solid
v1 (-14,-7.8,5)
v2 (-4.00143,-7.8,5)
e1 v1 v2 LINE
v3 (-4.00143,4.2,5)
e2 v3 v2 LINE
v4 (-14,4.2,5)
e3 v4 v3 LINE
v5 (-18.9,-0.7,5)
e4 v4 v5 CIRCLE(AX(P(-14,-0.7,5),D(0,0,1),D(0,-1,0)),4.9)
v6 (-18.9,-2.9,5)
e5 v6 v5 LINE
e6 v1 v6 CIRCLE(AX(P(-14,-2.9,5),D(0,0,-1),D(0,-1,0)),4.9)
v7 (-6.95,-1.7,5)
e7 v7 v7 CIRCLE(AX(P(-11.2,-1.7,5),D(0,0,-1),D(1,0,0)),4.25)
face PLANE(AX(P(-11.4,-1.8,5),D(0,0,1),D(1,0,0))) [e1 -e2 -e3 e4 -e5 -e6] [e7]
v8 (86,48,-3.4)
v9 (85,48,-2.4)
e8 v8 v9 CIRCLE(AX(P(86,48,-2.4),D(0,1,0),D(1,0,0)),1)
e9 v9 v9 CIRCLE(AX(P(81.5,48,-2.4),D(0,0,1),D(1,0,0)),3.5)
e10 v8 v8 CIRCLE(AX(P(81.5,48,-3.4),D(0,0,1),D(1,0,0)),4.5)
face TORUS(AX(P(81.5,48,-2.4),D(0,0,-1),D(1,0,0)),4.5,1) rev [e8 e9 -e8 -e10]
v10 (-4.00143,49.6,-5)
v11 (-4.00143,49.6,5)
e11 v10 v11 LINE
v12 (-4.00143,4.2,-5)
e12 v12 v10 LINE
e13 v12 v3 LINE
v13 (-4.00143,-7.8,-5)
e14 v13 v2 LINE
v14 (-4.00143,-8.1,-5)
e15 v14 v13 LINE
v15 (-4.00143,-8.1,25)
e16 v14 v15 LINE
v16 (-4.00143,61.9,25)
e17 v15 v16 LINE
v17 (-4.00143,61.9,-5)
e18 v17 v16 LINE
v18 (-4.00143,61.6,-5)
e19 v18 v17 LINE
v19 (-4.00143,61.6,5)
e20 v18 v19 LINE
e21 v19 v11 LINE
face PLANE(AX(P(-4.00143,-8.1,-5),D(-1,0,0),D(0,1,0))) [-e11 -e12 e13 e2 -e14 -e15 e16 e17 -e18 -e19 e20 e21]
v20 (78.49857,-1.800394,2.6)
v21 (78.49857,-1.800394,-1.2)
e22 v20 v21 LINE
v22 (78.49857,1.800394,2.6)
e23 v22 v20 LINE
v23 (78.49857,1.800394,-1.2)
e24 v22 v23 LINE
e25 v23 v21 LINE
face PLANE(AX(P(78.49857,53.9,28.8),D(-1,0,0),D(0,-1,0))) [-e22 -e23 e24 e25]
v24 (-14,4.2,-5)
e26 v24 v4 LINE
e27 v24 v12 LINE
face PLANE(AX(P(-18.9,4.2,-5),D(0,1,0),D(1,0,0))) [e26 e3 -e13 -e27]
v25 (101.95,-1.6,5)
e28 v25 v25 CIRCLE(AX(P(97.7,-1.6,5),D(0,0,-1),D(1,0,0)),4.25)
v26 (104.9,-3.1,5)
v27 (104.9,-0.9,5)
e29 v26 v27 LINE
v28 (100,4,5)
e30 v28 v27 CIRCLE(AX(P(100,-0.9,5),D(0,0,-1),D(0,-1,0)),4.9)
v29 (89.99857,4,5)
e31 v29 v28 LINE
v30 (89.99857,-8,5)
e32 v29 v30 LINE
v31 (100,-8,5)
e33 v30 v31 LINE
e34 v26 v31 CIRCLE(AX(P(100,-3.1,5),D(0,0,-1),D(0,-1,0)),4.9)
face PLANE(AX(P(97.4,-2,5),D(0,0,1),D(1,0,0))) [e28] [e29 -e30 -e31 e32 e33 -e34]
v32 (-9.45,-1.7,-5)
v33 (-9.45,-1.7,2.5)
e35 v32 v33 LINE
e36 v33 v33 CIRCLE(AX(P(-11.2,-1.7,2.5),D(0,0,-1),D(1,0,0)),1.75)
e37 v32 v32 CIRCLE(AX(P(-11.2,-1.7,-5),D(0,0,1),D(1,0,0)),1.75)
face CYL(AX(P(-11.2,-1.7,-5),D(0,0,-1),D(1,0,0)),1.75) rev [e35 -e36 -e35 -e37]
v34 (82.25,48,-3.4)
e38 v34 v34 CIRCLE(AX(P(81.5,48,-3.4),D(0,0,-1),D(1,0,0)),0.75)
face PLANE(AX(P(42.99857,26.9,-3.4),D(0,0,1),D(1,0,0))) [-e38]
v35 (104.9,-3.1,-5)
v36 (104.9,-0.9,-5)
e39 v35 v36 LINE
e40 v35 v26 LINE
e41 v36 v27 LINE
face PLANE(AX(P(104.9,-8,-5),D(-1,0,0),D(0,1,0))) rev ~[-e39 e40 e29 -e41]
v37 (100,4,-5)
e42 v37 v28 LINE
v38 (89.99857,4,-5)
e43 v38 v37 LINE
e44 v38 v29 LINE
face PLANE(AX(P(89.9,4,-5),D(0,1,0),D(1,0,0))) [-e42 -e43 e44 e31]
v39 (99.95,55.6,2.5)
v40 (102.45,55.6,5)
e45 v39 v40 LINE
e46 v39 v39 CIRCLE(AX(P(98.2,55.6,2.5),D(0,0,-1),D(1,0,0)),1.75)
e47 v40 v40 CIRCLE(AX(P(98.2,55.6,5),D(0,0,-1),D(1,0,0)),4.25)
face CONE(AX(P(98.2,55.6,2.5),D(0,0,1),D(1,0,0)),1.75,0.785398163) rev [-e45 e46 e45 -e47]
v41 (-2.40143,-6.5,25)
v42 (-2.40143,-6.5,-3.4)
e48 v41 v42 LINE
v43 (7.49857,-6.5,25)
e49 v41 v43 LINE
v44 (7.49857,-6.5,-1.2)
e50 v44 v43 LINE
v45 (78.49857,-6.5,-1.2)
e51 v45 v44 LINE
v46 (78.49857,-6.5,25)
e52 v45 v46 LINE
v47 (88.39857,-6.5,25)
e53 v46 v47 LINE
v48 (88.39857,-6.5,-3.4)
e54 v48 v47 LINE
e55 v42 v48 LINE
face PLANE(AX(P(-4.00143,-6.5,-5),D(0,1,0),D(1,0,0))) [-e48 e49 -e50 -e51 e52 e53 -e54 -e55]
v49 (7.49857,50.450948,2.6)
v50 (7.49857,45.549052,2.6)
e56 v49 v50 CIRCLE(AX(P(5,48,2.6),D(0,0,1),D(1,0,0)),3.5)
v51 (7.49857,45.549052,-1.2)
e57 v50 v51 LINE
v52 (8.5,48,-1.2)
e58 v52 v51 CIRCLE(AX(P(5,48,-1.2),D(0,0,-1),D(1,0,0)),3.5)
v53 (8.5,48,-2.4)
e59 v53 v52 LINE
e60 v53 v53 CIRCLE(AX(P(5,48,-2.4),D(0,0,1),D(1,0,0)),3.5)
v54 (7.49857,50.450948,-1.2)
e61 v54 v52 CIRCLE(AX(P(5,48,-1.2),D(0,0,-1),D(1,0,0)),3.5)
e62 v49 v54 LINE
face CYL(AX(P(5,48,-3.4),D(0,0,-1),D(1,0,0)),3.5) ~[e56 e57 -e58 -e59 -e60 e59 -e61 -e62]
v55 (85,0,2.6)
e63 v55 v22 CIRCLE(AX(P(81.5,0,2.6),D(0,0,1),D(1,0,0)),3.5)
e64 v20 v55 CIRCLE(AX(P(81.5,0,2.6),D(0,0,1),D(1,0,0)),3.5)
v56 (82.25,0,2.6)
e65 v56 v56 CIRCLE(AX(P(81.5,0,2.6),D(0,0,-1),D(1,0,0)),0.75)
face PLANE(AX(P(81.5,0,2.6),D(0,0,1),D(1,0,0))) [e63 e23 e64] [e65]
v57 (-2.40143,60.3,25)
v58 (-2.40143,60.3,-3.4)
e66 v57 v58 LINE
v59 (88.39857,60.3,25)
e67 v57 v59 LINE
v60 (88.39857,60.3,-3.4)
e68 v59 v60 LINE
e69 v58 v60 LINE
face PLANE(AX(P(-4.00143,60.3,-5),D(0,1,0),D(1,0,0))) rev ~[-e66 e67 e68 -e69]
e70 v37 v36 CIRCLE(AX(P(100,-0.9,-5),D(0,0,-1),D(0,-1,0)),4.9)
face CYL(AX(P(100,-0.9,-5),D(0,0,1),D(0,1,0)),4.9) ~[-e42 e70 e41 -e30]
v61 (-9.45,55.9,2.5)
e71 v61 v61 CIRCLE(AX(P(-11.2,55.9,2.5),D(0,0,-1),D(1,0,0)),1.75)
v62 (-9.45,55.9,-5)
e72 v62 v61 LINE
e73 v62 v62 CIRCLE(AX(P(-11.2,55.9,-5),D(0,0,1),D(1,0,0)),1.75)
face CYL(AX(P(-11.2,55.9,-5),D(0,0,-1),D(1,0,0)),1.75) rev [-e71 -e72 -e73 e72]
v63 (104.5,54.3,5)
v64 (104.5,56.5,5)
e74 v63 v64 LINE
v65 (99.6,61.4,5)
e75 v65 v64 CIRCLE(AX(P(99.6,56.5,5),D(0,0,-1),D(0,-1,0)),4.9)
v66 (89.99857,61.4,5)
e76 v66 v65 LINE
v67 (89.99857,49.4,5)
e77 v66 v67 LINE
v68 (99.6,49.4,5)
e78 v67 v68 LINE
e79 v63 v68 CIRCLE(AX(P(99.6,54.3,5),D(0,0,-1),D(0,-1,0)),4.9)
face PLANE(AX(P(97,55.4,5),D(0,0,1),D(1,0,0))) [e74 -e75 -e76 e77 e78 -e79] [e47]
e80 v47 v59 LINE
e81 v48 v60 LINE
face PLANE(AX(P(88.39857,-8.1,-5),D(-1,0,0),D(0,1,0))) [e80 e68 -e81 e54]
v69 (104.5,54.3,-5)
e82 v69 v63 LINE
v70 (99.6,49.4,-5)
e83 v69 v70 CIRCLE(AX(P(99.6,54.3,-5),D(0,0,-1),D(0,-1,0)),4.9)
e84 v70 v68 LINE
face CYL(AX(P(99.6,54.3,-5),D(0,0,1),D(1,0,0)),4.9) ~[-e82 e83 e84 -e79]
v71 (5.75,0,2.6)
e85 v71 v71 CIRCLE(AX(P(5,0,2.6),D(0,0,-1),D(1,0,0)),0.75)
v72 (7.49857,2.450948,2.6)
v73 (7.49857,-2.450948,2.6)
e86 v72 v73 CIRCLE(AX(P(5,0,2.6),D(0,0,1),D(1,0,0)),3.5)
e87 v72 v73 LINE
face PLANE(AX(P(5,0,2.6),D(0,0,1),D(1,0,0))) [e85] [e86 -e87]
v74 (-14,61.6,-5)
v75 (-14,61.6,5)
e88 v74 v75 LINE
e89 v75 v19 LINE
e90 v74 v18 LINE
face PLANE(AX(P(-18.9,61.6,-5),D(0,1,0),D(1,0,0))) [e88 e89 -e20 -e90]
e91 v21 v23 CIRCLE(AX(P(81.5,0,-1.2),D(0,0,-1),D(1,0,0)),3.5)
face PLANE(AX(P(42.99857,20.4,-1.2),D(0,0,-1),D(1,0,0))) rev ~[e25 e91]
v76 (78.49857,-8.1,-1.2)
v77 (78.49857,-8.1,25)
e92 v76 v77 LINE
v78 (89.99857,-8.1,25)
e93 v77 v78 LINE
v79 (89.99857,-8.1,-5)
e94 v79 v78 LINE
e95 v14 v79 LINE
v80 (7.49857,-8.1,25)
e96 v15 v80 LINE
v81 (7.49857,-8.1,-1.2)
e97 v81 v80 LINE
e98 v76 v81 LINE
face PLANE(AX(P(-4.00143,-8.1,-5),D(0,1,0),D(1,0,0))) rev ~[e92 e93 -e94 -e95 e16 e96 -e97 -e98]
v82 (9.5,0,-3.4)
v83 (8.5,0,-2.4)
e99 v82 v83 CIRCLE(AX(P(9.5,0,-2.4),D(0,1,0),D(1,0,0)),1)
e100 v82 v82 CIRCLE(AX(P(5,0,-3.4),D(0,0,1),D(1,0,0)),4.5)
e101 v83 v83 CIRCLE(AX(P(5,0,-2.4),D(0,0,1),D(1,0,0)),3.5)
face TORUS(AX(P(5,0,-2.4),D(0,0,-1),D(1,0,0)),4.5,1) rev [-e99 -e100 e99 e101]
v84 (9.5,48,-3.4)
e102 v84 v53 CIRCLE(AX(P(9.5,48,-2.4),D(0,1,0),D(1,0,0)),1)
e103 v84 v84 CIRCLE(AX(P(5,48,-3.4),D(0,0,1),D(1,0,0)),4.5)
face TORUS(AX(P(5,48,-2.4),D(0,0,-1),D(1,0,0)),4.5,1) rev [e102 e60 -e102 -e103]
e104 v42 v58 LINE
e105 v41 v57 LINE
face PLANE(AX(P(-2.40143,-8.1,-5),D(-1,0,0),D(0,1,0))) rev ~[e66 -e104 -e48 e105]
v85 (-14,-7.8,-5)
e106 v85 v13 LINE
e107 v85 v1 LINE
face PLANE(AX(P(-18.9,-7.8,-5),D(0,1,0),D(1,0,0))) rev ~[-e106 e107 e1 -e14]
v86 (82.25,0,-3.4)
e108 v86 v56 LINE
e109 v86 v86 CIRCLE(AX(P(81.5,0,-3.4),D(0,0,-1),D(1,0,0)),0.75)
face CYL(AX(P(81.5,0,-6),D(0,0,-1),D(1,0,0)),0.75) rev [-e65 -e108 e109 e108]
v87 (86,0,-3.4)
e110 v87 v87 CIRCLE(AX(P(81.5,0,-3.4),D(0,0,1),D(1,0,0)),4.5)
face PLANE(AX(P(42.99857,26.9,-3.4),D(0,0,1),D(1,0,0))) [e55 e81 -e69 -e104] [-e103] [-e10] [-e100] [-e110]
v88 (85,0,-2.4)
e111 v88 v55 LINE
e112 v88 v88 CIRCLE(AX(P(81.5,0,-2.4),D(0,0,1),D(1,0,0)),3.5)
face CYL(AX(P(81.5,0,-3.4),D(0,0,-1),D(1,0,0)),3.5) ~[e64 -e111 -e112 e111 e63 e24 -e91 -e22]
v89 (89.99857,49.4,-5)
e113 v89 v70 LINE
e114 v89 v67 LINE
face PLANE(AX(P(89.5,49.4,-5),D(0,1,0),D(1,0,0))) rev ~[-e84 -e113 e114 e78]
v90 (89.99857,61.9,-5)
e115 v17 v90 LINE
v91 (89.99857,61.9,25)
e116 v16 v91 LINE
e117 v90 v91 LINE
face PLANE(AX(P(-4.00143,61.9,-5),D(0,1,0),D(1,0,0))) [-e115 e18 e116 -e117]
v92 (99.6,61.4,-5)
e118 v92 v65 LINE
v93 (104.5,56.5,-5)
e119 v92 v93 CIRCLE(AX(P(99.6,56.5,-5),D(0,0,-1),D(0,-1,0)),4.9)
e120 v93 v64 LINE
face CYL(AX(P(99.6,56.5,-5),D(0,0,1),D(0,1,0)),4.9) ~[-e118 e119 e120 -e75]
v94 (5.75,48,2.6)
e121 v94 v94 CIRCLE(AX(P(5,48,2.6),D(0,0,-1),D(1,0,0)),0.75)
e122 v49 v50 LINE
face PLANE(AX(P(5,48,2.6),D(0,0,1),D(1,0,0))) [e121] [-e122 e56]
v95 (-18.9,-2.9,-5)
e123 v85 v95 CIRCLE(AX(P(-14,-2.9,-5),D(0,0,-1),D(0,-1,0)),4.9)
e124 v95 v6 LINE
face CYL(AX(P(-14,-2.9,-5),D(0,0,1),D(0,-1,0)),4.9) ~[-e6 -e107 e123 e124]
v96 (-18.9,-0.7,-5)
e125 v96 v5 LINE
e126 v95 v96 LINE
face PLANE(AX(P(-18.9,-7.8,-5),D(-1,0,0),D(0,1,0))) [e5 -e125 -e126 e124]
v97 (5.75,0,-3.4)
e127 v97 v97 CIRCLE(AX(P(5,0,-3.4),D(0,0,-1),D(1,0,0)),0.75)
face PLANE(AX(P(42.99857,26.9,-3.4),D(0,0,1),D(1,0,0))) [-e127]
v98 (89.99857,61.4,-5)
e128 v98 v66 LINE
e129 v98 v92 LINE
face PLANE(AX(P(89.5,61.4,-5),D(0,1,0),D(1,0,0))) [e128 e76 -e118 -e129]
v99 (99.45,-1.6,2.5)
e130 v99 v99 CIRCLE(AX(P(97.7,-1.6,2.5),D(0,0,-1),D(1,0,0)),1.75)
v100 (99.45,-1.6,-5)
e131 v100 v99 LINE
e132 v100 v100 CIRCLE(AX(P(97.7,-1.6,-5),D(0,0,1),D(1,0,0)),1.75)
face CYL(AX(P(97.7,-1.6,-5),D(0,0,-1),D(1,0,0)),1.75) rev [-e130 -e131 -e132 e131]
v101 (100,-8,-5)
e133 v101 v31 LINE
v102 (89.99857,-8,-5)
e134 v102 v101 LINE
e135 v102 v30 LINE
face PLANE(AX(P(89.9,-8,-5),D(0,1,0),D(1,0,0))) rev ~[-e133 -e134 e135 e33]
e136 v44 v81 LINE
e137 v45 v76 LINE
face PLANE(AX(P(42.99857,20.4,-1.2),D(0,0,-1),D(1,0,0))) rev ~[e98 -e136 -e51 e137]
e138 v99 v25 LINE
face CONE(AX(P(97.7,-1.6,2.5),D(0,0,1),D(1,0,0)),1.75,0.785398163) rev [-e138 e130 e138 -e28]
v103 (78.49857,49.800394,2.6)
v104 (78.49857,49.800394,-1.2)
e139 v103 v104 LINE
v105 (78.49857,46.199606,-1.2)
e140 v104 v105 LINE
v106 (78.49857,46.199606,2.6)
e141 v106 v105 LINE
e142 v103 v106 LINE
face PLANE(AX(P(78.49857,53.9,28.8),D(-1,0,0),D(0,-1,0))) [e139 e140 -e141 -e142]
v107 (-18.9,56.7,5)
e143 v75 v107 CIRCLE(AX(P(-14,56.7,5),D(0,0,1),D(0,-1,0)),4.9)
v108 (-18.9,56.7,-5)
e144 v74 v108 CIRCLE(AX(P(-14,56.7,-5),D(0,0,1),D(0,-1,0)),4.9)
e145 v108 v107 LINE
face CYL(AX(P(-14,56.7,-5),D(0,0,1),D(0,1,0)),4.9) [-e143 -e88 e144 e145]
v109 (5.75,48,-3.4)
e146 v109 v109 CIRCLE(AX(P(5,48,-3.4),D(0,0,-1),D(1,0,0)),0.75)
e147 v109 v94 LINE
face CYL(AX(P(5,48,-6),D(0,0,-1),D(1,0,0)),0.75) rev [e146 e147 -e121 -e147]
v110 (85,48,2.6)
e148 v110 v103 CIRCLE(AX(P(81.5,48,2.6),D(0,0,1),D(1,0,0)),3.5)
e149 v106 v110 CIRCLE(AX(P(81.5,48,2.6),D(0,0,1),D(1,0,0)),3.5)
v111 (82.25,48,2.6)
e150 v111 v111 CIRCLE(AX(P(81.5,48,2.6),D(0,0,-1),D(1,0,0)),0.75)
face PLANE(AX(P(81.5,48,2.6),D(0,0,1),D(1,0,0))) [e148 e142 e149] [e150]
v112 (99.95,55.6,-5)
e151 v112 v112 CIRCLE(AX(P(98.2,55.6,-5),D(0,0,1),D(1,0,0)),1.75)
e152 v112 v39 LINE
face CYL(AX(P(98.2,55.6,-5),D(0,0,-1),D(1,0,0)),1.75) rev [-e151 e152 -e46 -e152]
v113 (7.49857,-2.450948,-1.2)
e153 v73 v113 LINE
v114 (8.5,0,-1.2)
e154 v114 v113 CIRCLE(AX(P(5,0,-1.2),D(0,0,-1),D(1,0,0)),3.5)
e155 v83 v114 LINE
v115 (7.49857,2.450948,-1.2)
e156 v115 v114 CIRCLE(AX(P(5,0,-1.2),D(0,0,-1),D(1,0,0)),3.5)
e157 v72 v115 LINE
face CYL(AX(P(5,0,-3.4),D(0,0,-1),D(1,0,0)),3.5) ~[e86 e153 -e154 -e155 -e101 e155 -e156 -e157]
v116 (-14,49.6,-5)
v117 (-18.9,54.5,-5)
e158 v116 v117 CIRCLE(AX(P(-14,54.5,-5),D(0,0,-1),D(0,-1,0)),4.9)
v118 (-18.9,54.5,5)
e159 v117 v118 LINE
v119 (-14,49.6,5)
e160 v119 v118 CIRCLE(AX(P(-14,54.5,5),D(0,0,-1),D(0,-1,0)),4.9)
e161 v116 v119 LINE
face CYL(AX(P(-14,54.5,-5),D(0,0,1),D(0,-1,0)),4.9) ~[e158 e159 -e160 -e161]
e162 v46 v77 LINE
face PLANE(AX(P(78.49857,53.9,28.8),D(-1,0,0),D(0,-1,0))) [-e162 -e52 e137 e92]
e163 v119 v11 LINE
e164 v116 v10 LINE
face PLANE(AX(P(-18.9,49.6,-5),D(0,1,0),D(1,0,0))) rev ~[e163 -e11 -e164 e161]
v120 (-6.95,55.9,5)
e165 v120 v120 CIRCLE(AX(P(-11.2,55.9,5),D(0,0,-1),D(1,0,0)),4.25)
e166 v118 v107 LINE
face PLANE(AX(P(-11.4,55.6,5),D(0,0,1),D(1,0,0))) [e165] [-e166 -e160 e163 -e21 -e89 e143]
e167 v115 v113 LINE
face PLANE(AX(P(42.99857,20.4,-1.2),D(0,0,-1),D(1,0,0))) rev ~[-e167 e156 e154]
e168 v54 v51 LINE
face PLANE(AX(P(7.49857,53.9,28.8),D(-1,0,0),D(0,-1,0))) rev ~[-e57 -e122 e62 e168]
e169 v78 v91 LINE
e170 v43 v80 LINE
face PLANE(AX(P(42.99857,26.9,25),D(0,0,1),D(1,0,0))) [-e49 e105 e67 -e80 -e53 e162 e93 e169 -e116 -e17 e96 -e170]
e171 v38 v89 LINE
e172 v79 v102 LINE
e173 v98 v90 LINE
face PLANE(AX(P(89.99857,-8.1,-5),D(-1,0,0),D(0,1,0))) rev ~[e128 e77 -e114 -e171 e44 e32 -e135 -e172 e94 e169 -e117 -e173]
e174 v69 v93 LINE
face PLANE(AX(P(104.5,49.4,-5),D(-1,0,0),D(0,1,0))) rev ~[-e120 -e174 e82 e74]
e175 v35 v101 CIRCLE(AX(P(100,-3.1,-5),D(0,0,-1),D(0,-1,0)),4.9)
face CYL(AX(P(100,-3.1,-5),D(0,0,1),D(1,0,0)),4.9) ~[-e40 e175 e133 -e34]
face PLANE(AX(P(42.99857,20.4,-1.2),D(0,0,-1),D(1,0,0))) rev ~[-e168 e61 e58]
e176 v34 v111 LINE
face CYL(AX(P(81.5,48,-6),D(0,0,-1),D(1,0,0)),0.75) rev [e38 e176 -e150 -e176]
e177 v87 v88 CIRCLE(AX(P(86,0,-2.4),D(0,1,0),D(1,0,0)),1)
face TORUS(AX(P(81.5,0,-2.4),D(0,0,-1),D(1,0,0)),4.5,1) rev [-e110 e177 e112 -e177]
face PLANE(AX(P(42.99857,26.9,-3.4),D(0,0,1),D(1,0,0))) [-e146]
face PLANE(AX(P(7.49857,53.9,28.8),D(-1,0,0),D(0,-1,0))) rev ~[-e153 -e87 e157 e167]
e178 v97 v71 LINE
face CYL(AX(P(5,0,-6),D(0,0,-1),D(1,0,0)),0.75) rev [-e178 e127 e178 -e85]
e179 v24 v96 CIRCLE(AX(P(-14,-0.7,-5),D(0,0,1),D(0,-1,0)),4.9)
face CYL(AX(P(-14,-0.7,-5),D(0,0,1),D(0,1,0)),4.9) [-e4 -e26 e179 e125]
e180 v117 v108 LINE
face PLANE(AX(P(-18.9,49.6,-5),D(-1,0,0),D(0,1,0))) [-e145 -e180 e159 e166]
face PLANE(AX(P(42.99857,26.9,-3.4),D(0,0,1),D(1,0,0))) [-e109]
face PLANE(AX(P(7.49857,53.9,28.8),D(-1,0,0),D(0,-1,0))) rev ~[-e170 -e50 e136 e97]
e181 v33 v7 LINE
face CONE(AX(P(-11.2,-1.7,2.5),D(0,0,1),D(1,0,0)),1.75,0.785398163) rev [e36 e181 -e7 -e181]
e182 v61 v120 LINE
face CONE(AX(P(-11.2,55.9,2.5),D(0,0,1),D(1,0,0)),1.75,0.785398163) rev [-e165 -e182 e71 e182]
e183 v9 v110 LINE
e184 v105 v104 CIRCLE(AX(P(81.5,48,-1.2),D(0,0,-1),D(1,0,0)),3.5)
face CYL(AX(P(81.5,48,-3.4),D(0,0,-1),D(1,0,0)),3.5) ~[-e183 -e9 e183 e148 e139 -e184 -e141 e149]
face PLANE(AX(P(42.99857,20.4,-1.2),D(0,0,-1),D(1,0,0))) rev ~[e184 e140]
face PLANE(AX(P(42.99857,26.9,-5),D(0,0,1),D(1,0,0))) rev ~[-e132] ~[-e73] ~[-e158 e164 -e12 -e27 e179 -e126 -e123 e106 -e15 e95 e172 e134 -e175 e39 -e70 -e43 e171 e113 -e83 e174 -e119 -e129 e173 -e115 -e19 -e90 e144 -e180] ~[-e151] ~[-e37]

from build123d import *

# Parameters (mm, degrees)
BOX001_W          = 71
BOX001_H          = 67
BOX001_DEPTH      = 30
CYLINDER001_R     = 1.5
CYLINDER001_DEPTH = 10
CYLINDER002_R     = 1.5
CYLINDER002_DEPTH = 10
CYLINDER003_R     = 1.5
CYLINDER003_DEPTH = 10
CYLINDER_R        = 1.5
CYLINDER_DEPTH    = 10
BOX_W             = 86
BOX_H             = 58
BOX_DEPTH         = 1.5
BOX002_W          = 94
BOX002_H          = 70
BOX002_DEPTH      = 30
THICKNESS_T       = -1.6
CYLINDER005_R     = 0.75
CYLINDER005_DEPTH = 10
CYLINDER004_R     = 3.5
CYLINDER004_DEPTH = 6
CYLINDER007_R     = 0.75
CYLINDER007_DEPTH = 10
CYLINDER006_R     = 3.5
CYLINDER006_DEPTH = 6
CYLINDER009_R     = 0.75
CYLINDER009_DEPTH = 10
CYLINDER008_R     = 3.5
CYLINDER008_DEPTH = 6
CYLINDER010_R     = 0.75
CYLINDER010_DEPTH = 10
CYLINDER011_R     = 3.5
CYLINDER011_DEPTH = 6
FILLET_R          = 1
FILLET001_R       = 1
CYLINDER014_R     = 1.75
CYLINDER014_DEPTH = 20
CYLINDER013_R     = 1.75
CYLINDER013_DEPTH = 20
CYLINDER015_R     = 1.75
CYLINDER015_DEPTH = 20
CYLINDER012_R     = 1.75
CYLINDER012_DEPTH = 20
BOX004_W          = 15
BOX004_H          = 12
BOX004_DEPTH      = 10
BOX005_W          = 15
BOX005_H          = 12
BOX005_DEPTH      = 10
BOX006_W          = 15
BOX006_H          = 12
BOX006_DEPTH      = 10
BOX003_W          = 15
BOX003_H          = 12
BOX003_DEPTH      = 10
FILLET002_R       = 4.9
FILLET003_R       = 4.9
CHAMFER_SIZE      = 2.5


with BuildPart() as w_rfel001:
    # Box001 → Box001 (new body)
    with BuildSketch(Plane(origin=(7.49857, 58.9, 26), x_dir=(1, 0, 0), z_dir=(0, 0, -1))):
        with Locations((35.5, 33.5)):
            Rectangle(BOX001_W, BOX001_H)
    extrude(amount=BOX001_DEPTH)


with BuildPart() as zylinder001:
    # Cylinder001 → Cylinder001 (new body)
    with BuildSketch(Plane(origin=(5, 53, 0), x_dir=(1, 0, 0), z_dir=(0, 0, 1))):
        Circle(CYLINDER001_R)
    extrude(amount=CYLINDER001_DEPTH)


with BuildPart() as zylinder002:
    # Cylinder002 → Cylinder002 (new body)
    with BuildSketch(Plane(origin=(81.5, 5, 0), x_dir=(1, 0, 0), z_dir=(0, 0, 1))):
        Circle(CYLINDER002_R)
    extrude(amount=CYLINDER002_DEPTH)


with BuildPart() as zylinder003:
    # Cylinder003 → Cylinder003 (new body)
    with BuildSketch(Plane(origin=(81.5, 53, 0), x_dir=(1, 0, 0), z_dir=(0, 0, 1))):
        Circle(CYLINDER003_R)
    extrude(amount=CYLINDER003_DEPTH)


with BuildPart() as fusion:
    # Cylinder → Cylinder (new body)
    with BuildSketch(Plane(origin=(5, 5, 0), x_dir=(1, 0, 0), z_dir=(0, 0, 1))):
        Circle(CYLINDER_R)
    extrude(amount=CYLINDER_DEPTH)

    # Fusion: union Zylinder001, Zylinder002, Zylinder003
    add(zylinder001.part)
    add(zylinder002.part)
    add(zylinder003.part)


with BuildPart() as fusion001:
    # Box → Box (new body)
    with BuildSketch(Plane.XY):
        with Locations((43, 29)):
            Rectangle(BOX_W, BOX_H)
    extrude(amount=BOX_DEPTH)

    # Cut: cut Fusion
    add(fusion.part, mode=Mode.SUBTRACT)

    # Fusion001: union Würfel001
    add(w_rfel001.part)


with BuildPart() as fusion001_1:
    # Fusion001 placement: moved
    add(fusion001.part.moved(Location((0, -5, 2.8))))


with BuildPart() as thickness:
    # Box002 → Box002 (new body)
    with BuildSketch(Plane(origin=(-4.00143, -8.1, -5), x_dir=(1, 0, 0), z_dir=(0, 0, 1))):
        with Locations((47, 35)):
            Rectangle(BOX002_W, BOX002_H)
    extrude(amount=BOX002_DEPTH)

    # Thickness
    thickness_openings = [thickness.faces().sort_by_distance(p)[0] for p in [
        (42.99857, 26.9, 25),
    ]]
    offset(amount=THICKNESS_T, openings=thickness_openings)


with BuildPart() as zylinder005:
    # Cylinder005 → Cylinder005 (new body)
    with BuildSketch(Plane(origin=(5, 0, -6), x_dir=(1, 0, 0), z_dir=(0, 0, 1))):
        Circle(CYLINDER005_R)
    extrude(amount=CYLINDER005_DEPTH)


with BuildPart() as cut001:
    # Cylinder004 → Cylinder004 (new body)
    with BuildSketch(Plane(origin=(5, 0, -3.4), x_dir=(1, 0, 0), z_dir=(0, 0, 1))):
        Circle(CYLINDER004_R)
    extrude(amount=CYLINDER004_DEPTH)

    # Cut001: cut Zylinder005
    add(zylinder005.part, mode=Mode.SUBTRACT)


with BuildPart() as zylinder007:
    # Cylinder007 → Cylinder007 (new body)
    with BuildSketch(Plane(origin=(5, 0, -6), x_dir=(1, 0, 0), z_dir=(0, 0, 1))):
        Circle(CYLINDER007_R)
    extrude(amount=CYLINDER007_DEPTH)


with BuildPart() as cut002:
    # Cylinder006 → Cylinder006 (new body)
    with BuildSketch(Plane(origin=(5, 0, -3.4), x_dir=(1, 0, 0), z_dir=(0, 0, 1))):
        Circle(CYLINDER006_R)
    extrude(amount=CYLINDER006_DEPTH)

    # Cut002: cut Zylinder007
    add(zylinder007.part, mode=Mode.SUBTRACT)


with BuildPart() as cut002_1:
    # Cut002 placement: moved
    add(cut002.part.moved(Location((0, 48, 0))))


with BuildPart() as zylinder009:
    # Cylinder009 → Cylinder009 (new body)
    with BuildSketch(Plane(origin=(5, 0, -6), x_dir=(1, 0, 0), z_dir=(0, 0, 1))):
        Circle(CYLINDER009_R)
    extrude(amount=CYLINDER009_DEPTH)


with BuildPart() as cut003:
    # Cylinder008 → Cylinder008 (new body)
    with BuildSketch(Plane(origin=(5, 0, -3.4), x_dir=(1, 0, 0), z_dir=(0, 0, 1))):
        Circle(CYLINDER008_R)
    extrude(amount=CYLINDER008_DEPTH)

    # Cut003: cut Zylinder009
    add(zylinder009.part, mode=Mode.SUBTRACT)


with BuildPart() as cut003_1:
    # Cut003 placement: moved
    add(cut003.part.moved(Location((76.5, 48, 0))))


with BuildPart() as zylinder010:
    # Cylinder010 → Cylinder010 (new body)
    with BuildSketch(Plane(origin=(5, 0, -6), x_dir=(1, 0, 0), z_dir=(0, 0, 1))):
        Circle(CYLINDER010_R)
    extrude(amount=CYLINDER010_DEPTH)


with BuildPart() as fillet001:
    # Cylinder011 → Cylinder011 (new body)
    with BuildSketch(Plane(origin=(5, 0, -3.4), x_dir=(1, 0, 0), z_dir=(0, 0, 1))):
        Circle(CYLINDER011_R)
    extrude(amount=CYLINDER011_DEPTH)

    # Cut004: cut Zylinder010
    add(zylinder010.part, mode=Mode.SUBTRACT)


with BuildPart() as fillet001_1:
    # Cut004 placement: moved
    add(fillet001.part.moved(Location((76.5, 0, 0))))

    # Fusion002: union Cut001, Cut002, Cut003
    add(cut001.part)
    add(cut002_1.part)
    add(cut003_1.part)

    # Fusion003: union Thickness
    add(thickness.part)

    # Fillet
    fillet_edges = [fillet001_1.edges().sort_by_distance(p)[0] for p in [
        (1.5, 48, -3.4),
        (78, 48, -3.4),
    ]]
    fillet(fillet_edges, radius=FILLET_R)

    # Fillet001
    fillet001_edges = [fillet001_1.edges().sort_by_distance(p)[0] for p in [
        (1.5, 0, -3.4),
        (78, 0, -3.4),
    ]]
    fillet(fillet001_edges, radius=FILLET001_R)


with BuildPart() as zylinder014:
    # Cylinder014 → Cylinder014 (new body)
    with BuildSketch(Plane(origin=(98.2, 55.6, -5), x_dir=(1, 0, 0), z_dir=(0, 0, 1))):
        Circle(CYLINDER014_R)
    extrude(amount=CYLINDER014_DEPTH)


with BuildPart() as zylinder013:
    # Cylinder013 → Cylinder013 (new body)
    with BuildSketch(Plane(origin=(97.7, -1.6, -5), x_dir=(1, 0, 0), z_dir=(0, 0, 1))):
        Circle(CYLINDER013_R)
    extrude(amount=CYLINDER013_DEPTH)


with BuildPart() as zylinder015:
    # Cylinder015 → Cylinder015 (new body)
    with BuildSketch(Plane(origin=(-11.2, 55.9, -5), x_dir=(1, 0, 0), z_dir=(0, 0, 1))):
        Circle(CYLINDER015_R)
    extrude(amount=CYLINDER015_DEPTH)


with BuildPart() as fusion004:
    # Cylinder012 → Cylinder012 (new body)
    with BuildSketch(Plane(origin=(-11.2, -1.7, -5), x_dir=(1, 0, 0), z_dir=(0, 0, 1))):
        Circle(CYLINDER012_R)
    extrude(amount=CYLINDER012_DEPTH)

    # Fusion004: union Zylinder014, Zylinder013, Zylinder015
    add(zylinder014.part)
    add(zylinder013.part)
    add(zylinder015.part)


with BuildPart() as w_rfel004:
    # Box004 → Box004 (new body)
    with BuildSketch(Plane(origin=(-18.9, 49.6, -5), x_dir=(1, 0, 0), z_dir=(0, 0, 1))):
        with Locations((7.5, 6)):
            Rectangle(BOX004_W, BOX004_H)
    extrude(amount=BOX004_DEPTH)


with BuildPart() as w_rfel005:
    # Box005 → Box005 (new body)
    with BuildSketch(Plane(origin=(89.9, -8, -5), x_dir=(1, 0, 0), z_dir=(0, 0, 1))):
        with Locations((7.5, 6)):
            Rectangle(BOX005_W, BOX005_H)
    extrude(amount=BOX005_DEPTH)


with BuildPart() as w_rfel006:
    # Box006 → Box006 (new body)
    with BuildSketch(Plane(origin=(89.5, 49.4, -5), x_dir=(1, 0, 0), z_dir=(0, 0, 1))):
        with Locations((7.5, 6)):
            Rectangle(BOX006_W, BOX006_H)
    extrude(amount=BOX006_DEPTH)


with BuildPart() as cut006:
    # Box003 → Box003 (new body)
    with BuildSketch(Plane(origin=(-18.9, -7.8, -5), x_dir=(1, 0, 0), z_dir=(0, 0, 1))):
        with Locations((7.5, 6)):
            Rectangle(BOX003_W, BOX003_H)
    extrude(amount=BOX003_DEPTH)

    # Fusion005: union Würfel004, Würfel005, Würfel006
    add(w_rfel004.part)
    add(w_rfel005.part)
    add(w_rfel006.part)

    # Cut005: cut Fusion004
    add(fusion004.part, mode=Mode.SUBTRACT)

    # Fusion006: union Fillet001
    add(fillet001_1.part)

    # Fillet002
    fillet002_edges = [cut006.edges().sort_by_distance(p)[0] for p in [
        (-18.9, -7.8, 0),
        (-18.9, 4.2, 0),
        (-18.9, 61.6, 0),
        (-18.9, 49.6, 0),
    ]]
    fillet(fillet002_edges, radius=FILLET002_R)

    # Fillet003
    fillet003_edges = [cut006.edges().sort_by_distance(p)[0] for p in [
        (104.9, -8, 0),
        (104.9, 4, 0),
        (104.5, 61.4, 0),
        (104.5, 49.4, 0),
    ]]
    fillet(fillet003_edges, radius=FILLET003_R)

    # Chamfer
    chamfer_edges = [cut006.edges().sort_by_distance(p)[0] for p in [
        (-12.95, 55.9, 5),
        (-12.95, -1.7, 5),
        (96.45, 55.6, 5),
        (95.95, -1.6, 5),
    ]]
    chamfer(chamfer_edges, length=CHAMFER_SIZE)

    # Cut006: cut Fusion001
    add(fusion001_1.part, mode=Mode.SUBTRACT)


solid = cut006.part
